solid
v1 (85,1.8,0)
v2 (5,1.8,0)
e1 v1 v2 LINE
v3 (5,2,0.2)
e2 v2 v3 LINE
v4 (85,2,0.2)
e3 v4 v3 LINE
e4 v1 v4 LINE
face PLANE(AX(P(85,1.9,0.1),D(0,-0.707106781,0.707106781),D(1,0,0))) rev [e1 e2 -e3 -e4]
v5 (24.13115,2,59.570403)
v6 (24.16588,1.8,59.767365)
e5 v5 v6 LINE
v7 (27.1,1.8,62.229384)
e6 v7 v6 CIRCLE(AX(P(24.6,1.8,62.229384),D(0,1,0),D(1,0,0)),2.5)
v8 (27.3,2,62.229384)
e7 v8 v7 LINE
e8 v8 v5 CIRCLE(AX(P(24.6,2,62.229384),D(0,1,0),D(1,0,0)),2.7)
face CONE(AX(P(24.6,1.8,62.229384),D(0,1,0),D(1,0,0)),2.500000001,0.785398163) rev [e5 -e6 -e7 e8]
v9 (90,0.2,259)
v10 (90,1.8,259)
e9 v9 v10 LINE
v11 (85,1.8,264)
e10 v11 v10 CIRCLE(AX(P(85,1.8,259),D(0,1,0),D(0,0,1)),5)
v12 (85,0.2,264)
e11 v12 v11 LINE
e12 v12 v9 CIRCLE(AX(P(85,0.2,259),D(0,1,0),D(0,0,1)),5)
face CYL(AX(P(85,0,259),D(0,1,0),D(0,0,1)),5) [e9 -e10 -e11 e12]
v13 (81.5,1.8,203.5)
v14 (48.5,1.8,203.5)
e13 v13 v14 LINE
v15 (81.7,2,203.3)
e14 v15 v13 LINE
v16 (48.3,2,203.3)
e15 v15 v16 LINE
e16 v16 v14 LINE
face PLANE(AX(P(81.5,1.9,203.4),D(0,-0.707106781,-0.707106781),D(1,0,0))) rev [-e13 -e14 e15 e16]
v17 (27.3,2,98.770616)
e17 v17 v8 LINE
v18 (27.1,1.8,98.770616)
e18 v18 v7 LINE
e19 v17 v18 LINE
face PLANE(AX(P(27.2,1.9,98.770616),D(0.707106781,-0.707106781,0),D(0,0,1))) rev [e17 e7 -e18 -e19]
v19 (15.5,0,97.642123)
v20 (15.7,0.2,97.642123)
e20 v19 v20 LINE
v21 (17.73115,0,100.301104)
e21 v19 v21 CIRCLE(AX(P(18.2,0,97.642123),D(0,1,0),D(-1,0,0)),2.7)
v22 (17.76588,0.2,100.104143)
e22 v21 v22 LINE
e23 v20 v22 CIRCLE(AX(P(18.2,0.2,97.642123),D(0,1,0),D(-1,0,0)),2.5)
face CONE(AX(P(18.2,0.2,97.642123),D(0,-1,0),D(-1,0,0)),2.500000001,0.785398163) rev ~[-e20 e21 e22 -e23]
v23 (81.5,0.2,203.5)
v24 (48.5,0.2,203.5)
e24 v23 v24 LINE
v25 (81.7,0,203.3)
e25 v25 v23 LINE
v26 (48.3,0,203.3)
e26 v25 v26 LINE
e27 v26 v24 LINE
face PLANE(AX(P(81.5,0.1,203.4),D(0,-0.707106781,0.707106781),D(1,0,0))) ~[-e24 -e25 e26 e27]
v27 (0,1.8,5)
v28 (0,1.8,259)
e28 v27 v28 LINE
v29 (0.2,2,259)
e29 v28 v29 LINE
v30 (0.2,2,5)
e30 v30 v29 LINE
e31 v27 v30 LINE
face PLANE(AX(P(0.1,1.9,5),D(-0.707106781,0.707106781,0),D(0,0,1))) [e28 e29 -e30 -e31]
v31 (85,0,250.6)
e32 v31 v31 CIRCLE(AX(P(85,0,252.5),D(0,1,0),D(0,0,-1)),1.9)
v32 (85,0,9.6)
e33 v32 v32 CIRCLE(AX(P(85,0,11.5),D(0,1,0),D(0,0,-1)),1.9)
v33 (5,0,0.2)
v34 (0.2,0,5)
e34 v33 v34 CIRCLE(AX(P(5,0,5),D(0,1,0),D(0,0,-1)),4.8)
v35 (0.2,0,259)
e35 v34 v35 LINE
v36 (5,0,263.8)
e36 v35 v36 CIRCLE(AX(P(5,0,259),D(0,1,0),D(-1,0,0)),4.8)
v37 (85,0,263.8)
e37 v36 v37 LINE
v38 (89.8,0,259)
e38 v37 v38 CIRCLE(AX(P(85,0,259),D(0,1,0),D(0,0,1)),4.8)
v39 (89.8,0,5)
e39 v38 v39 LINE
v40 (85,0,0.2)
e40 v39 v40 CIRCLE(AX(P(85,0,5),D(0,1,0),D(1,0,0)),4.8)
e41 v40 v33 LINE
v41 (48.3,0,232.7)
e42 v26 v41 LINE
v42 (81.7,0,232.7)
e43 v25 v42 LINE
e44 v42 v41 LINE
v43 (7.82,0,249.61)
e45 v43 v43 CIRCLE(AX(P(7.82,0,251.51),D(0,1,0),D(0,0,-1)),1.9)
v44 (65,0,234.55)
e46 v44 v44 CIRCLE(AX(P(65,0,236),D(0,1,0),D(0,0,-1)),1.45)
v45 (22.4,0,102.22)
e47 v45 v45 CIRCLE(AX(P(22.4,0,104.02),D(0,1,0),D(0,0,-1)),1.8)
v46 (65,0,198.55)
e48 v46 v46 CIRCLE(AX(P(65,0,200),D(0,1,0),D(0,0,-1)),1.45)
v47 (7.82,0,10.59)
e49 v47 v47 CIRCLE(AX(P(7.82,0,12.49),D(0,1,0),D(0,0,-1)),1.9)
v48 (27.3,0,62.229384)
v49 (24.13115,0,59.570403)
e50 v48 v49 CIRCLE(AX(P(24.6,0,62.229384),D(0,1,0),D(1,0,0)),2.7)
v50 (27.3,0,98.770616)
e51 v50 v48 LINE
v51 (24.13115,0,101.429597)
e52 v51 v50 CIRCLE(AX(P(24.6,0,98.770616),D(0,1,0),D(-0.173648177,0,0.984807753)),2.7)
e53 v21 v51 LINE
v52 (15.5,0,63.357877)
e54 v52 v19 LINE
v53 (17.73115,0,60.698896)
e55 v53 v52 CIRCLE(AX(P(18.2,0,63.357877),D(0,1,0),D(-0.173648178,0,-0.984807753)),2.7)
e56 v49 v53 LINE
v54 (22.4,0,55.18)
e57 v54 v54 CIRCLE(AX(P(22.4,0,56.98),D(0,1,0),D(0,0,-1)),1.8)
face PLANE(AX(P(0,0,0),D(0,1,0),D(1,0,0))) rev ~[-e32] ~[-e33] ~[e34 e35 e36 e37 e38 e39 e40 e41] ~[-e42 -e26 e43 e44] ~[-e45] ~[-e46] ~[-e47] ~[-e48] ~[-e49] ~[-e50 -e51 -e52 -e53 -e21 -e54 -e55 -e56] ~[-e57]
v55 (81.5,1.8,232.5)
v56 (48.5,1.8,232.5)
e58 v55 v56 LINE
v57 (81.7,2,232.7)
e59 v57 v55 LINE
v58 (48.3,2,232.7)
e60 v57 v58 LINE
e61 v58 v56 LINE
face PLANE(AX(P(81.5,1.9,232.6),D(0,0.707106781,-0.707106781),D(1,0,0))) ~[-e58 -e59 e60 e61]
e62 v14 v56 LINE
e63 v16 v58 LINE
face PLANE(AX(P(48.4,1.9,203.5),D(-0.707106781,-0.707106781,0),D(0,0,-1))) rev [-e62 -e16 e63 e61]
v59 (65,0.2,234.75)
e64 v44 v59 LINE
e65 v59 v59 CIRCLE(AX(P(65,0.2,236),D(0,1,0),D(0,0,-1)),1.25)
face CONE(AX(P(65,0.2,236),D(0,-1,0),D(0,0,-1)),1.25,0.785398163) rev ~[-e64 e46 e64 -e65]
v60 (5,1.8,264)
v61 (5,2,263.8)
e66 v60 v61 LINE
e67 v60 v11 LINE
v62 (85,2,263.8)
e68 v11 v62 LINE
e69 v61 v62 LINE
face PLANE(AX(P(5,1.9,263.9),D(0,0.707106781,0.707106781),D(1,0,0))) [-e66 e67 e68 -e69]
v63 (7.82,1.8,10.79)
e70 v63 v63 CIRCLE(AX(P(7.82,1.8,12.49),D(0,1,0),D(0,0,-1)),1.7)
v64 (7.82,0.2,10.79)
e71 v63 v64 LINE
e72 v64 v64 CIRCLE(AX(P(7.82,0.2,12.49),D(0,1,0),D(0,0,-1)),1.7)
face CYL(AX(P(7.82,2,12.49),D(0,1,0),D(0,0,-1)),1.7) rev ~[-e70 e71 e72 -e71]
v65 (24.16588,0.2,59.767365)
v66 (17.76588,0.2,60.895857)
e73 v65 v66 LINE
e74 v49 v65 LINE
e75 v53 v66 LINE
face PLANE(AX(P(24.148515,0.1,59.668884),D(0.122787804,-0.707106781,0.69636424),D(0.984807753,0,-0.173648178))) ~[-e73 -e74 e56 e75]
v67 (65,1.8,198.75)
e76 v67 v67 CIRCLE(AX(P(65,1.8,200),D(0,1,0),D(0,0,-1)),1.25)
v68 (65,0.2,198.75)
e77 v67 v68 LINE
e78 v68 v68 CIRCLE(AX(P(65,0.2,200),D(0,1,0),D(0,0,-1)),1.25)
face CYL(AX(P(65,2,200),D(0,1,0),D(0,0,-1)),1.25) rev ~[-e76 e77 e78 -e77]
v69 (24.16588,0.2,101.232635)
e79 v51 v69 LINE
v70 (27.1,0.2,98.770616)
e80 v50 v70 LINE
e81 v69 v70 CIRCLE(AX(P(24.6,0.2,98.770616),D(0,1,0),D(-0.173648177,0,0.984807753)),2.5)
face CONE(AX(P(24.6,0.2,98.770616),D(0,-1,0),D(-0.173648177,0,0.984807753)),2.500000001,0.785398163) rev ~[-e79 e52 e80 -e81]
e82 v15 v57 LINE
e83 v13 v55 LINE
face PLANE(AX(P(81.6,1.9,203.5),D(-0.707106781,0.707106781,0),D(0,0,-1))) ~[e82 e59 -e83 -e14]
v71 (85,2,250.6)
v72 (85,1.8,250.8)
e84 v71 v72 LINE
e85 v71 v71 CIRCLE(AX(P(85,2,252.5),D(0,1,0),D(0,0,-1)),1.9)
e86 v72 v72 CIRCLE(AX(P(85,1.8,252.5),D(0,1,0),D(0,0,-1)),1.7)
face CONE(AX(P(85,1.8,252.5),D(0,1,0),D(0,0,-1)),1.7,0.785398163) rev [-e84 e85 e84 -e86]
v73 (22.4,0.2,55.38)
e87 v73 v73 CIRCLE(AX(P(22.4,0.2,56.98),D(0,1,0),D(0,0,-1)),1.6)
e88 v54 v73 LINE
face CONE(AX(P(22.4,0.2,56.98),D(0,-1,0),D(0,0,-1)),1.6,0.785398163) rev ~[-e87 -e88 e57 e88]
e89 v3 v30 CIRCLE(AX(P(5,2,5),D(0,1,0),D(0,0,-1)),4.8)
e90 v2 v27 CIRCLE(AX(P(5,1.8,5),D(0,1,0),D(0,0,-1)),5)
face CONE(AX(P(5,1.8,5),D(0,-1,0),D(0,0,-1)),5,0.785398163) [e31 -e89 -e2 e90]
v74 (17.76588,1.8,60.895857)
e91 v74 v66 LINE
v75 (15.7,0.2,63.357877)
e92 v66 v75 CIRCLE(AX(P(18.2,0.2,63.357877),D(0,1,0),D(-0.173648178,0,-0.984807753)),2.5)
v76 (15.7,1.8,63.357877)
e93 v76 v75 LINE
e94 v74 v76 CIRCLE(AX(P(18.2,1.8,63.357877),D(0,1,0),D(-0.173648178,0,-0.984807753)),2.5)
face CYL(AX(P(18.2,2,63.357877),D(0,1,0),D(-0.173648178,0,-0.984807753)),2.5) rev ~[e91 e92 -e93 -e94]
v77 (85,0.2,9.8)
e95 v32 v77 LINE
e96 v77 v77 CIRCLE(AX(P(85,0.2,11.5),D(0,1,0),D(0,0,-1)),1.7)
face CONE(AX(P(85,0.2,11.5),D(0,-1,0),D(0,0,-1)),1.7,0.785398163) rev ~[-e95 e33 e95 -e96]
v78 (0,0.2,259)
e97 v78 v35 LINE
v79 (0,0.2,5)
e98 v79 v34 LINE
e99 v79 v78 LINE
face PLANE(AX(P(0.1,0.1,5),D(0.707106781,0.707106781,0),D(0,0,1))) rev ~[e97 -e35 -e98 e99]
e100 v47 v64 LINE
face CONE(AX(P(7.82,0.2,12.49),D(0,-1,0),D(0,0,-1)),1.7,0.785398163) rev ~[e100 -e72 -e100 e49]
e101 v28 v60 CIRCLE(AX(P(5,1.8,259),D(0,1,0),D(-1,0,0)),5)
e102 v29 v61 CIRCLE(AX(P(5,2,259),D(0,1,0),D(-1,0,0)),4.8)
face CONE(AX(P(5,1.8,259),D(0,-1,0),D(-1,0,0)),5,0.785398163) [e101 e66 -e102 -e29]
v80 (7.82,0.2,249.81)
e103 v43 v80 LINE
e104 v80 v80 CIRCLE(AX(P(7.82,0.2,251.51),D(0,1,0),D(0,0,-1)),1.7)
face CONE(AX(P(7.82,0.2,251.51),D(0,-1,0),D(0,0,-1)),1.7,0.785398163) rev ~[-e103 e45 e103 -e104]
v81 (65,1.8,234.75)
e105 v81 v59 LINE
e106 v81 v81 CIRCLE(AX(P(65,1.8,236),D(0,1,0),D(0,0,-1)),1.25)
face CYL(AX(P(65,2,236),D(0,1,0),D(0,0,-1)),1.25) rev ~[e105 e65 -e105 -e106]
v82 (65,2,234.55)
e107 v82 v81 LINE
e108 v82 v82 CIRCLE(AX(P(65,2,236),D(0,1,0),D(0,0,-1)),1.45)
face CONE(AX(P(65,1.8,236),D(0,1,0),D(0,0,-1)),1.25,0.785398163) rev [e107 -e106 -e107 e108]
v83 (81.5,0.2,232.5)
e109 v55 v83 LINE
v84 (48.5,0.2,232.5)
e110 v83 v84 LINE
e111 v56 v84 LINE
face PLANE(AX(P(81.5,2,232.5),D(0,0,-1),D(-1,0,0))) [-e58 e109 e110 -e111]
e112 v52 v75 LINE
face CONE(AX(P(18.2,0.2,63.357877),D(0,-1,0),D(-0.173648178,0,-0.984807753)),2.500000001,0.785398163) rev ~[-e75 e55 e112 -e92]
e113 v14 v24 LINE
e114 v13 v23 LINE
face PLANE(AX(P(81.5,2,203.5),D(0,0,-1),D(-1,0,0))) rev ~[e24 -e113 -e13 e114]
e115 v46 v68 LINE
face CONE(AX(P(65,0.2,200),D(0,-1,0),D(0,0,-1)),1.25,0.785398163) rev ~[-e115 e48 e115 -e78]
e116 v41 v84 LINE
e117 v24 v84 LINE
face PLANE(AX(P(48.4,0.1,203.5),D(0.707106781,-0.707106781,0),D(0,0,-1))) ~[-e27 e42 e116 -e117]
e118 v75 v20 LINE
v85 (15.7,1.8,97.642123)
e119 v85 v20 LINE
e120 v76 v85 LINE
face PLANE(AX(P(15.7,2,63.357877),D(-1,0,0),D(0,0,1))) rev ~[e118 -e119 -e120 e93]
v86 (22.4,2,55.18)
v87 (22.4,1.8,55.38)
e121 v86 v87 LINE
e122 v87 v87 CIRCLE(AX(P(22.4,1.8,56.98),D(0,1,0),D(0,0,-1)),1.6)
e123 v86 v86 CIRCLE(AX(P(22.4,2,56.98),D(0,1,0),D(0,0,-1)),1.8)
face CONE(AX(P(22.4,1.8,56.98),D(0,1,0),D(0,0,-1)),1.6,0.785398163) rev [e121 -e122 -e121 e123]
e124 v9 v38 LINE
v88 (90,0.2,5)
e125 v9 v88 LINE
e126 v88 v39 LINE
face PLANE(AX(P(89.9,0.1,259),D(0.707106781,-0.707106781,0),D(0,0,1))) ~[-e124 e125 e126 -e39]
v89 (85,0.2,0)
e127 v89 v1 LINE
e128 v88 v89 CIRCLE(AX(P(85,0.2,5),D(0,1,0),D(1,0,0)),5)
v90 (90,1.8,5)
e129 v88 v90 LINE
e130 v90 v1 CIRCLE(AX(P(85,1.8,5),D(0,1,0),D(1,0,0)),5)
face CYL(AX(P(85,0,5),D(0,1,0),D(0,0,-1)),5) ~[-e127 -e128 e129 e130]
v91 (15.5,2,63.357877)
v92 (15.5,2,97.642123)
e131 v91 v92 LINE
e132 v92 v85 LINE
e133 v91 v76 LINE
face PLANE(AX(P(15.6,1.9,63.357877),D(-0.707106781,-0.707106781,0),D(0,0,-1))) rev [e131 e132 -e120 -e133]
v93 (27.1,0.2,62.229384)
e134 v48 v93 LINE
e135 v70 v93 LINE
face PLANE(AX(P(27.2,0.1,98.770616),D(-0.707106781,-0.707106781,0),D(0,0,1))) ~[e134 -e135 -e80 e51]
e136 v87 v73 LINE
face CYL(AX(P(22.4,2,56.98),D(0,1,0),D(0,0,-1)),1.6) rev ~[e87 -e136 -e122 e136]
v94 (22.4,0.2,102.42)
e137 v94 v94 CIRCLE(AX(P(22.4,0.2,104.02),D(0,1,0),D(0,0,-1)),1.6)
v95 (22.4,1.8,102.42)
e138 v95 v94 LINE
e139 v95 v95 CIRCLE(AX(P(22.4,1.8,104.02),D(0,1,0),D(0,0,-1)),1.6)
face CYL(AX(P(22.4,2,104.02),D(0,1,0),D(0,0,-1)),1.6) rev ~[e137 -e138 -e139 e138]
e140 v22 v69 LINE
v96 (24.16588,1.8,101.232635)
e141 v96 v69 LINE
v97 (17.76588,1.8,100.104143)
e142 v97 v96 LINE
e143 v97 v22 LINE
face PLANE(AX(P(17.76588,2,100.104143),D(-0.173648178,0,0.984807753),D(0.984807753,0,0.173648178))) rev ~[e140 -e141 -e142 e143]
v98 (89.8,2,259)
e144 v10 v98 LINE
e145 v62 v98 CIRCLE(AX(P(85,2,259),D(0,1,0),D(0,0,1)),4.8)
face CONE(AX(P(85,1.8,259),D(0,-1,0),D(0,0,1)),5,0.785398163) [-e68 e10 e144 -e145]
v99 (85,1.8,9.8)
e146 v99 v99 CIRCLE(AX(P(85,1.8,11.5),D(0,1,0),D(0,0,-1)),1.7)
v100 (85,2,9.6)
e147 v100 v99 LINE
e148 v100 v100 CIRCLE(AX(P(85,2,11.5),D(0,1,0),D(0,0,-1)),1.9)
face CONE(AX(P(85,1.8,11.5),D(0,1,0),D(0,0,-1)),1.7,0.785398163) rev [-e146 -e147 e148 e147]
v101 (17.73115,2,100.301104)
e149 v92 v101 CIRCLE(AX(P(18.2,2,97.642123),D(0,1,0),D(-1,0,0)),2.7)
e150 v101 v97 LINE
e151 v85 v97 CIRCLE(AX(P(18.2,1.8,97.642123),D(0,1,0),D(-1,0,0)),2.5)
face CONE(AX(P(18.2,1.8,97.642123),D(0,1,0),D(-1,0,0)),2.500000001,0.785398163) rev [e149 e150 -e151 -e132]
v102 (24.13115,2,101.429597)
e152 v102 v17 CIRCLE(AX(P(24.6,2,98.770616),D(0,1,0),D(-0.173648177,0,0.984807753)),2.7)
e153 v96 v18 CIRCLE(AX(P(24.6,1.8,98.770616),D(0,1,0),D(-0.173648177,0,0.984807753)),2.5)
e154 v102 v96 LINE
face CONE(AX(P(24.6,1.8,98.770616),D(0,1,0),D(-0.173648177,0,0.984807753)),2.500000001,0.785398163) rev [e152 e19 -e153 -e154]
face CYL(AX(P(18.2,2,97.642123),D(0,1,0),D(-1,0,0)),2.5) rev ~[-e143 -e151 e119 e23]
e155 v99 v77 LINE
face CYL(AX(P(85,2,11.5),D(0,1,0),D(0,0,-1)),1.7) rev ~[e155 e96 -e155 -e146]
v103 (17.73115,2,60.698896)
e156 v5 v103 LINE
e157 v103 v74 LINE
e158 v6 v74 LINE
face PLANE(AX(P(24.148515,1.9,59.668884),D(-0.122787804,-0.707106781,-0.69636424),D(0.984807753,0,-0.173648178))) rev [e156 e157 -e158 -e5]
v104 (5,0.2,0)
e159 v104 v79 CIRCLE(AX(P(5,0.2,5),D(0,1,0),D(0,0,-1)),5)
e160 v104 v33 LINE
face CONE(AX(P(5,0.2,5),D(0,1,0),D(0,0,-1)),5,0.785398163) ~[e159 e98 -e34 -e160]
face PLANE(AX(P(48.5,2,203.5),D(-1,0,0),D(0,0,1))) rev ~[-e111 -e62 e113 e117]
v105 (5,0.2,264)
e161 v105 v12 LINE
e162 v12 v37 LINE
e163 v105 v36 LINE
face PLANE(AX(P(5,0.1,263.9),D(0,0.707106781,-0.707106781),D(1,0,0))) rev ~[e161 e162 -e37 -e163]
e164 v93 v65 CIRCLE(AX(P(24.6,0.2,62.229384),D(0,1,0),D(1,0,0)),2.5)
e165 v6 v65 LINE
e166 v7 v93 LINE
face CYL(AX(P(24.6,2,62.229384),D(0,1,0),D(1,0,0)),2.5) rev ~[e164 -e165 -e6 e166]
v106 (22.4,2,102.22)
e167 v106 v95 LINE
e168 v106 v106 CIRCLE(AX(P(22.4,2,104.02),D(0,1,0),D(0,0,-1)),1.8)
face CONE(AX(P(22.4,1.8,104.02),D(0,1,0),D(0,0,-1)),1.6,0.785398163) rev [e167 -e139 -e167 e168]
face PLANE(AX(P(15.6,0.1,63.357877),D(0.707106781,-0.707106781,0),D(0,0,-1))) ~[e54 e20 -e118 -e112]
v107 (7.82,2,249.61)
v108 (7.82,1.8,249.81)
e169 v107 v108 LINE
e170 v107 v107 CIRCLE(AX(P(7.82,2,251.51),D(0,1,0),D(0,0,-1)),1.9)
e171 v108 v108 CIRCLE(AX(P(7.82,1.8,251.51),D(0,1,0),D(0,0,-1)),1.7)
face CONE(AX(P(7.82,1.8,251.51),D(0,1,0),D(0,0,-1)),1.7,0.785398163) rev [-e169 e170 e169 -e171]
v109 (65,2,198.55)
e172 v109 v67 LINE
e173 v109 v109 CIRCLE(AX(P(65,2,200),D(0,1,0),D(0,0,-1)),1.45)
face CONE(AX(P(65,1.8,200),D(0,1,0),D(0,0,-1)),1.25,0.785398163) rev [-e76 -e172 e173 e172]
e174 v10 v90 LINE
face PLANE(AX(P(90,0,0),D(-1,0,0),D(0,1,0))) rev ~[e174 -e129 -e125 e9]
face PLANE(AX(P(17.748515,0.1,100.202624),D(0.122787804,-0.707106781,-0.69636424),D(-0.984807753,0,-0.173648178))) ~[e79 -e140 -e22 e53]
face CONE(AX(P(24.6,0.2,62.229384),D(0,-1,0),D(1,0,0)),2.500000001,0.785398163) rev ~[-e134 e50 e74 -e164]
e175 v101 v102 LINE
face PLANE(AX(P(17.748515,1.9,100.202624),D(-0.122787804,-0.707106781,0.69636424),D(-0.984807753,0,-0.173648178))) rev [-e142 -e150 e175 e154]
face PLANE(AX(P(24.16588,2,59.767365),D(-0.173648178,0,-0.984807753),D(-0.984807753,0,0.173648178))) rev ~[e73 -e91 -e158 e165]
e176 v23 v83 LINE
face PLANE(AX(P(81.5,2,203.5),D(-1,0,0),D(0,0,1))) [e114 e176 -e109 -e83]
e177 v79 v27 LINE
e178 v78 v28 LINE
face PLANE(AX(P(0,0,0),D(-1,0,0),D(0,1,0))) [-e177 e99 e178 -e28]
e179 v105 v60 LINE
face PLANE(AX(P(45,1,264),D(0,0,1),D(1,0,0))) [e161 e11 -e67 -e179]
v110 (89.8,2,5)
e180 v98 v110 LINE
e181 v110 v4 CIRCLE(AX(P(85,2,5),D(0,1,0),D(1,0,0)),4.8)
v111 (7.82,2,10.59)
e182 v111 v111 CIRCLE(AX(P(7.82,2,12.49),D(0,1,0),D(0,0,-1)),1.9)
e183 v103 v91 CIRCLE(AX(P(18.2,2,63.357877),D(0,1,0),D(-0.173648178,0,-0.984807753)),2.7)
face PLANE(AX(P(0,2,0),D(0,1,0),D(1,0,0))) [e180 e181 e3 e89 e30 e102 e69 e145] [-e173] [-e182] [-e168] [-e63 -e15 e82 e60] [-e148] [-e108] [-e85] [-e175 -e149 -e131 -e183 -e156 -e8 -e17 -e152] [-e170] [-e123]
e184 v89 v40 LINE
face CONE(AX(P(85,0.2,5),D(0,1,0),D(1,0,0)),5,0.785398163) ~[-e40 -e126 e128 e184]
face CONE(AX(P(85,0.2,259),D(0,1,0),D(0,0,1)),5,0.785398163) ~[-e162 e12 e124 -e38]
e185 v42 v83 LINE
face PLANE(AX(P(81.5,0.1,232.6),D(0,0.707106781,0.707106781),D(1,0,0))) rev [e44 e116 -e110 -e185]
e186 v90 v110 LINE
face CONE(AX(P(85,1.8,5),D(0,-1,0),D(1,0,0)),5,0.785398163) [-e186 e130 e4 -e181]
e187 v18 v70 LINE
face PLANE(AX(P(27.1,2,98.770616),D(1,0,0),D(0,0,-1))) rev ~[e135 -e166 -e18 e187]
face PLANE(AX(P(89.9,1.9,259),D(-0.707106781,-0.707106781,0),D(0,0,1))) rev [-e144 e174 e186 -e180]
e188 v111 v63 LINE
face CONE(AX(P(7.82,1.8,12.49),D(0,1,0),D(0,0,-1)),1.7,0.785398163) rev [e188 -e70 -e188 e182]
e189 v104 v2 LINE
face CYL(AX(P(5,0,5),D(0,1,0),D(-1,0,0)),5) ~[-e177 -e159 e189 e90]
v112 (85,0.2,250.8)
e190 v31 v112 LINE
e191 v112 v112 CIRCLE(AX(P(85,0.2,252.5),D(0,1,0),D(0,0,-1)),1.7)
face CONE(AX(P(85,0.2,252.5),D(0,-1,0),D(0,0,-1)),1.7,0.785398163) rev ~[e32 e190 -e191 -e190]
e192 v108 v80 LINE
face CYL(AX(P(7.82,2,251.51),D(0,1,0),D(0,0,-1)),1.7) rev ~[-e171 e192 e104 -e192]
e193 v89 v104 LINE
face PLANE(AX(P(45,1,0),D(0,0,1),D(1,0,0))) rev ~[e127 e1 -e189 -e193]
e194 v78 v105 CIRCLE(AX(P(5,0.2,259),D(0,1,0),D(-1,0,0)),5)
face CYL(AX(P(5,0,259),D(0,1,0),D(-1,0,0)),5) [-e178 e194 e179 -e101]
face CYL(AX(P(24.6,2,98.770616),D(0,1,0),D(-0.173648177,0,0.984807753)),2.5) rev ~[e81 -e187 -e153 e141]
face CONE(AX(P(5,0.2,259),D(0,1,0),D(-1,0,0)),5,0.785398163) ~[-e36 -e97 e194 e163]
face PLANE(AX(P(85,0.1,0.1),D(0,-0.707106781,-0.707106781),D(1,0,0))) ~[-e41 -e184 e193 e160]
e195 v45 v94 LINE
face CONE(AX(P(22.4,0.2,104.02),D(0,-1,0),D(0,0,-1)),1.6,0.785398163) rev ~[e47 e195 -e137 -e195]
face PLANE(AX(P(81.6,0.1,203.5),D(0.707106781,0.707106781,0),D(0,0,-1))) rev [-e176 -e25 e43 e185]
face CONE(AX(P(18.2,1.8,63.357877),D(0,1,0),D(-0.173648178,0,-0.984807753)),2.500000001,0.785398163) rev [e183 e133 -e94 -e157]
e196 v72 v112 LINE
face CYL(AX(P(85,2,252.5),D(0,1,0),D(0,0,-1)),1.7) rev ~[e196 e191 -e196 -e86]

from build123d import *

# Parameters (mm, degrees)
ESQUISSE1_W             = 90
ESQUISSE1_H             = 2
BASE_EXTRUSION_DEPTH    = 264
ESQUISSE2_W             = 33
ESQUISSE2_H             = 29
ENL_V_MAT_EXTRU_1_DEPTH = 279.92651362
ENL_V_MAT_EXTRU_2_DEPTH = 279.92651362
ESQUISSE4_R             = 1.6
ESQUISSE4_R_2           = 1.7
ESQUISSE4_R_3           = 1.25
ENL_V_MAT_EXTRU_3_DEPTH = 279.92651362
CONG_1_R                = 5
CHANFREIN1_SIZE         = 0.2


with BuildPart() as part:
    # Esquisse1 → Base-Extrusion (new body)
    with BuildSketch(Plane.XY):
        with Locations((45, 1)):
            Rectangle(ESQUISSE1_W, ESQUISSE1_H)
    extrude(amount=BASE_EXTRUSION_DEPTH)

    # Esquisse2 → Enlèv. mat.-Extru.1 (cut, through all)
    with BuildSketch(Plane(origin=(0, 2, 0), x_dir=(-1, 0, 0), z_dir=(0, 1, 0))):
        with Locations((-65, 218)):
            Rectangle(ESQUISSE2_W, ESQUISSE2_H)
    extrude(amount=-ENL_V_MAT_EXTRU_1_DEPTH, mode=Mode.SUBTRACT)

    # Esquisse3 → Enlèv. mat.-Extru.2 (cut, through all)
    with BuildSketch(Plane(origin=(0, 2, 0), x_dir=(-1, 0, 0), z_dir=(0, 1, 0))):
        with BuildLine():
            Line((-27.1, 98.770616019), (-27.1, 62.229383981))
            ThreePointArc((-27.1, 62.229383981), (-26.206969024, 60.314272874), (-24.165879556, 59.767364599))
            Line((-24.165879556, 59.767364599), (-17.765879556, 60.895857275))
            ThreePointArc((-17.765879556, 60.895857275), (-16.284888892, 61.750907634), (-15.7, 63.357876658))
            Line((-15.7, 63.357876658), (-15.7, 97.642123342))
            ThreePointArc((-15.7, 97.642123342), (-16.284888892, 99.249092366), (-17.765879556, 100.104142725))
            Line((-17.765879556, 100.104142725), (-24.165879556, 101.232635401))
            ThreePointArc((-24.165879556, 101.232635401), (-26.206969024, 100.685727126), (-27.1, 98.770616019))
        make_face()
    extrude(amount=-ENL_V_MAT_EXTRU_2_DEPTH, mode=Mode.SUBTRACT)

    # Esquisse4 → Enlèv. mat.-Extru.3 (cut, through all)
    with BuildSketch(Plane(origin=(0, 2, 0), x_dir=(-1, 0, 0), z_dir=(0, 1, 0))):
        with Locations(Location((-22.4, 104.02, 0), (0, 0, 270))):
            Circle(ESQUISSE4_R)
        with Locations(Location((-22.4, 56.98, 0), (0, 0, 270))):
            Circle(ESQUISSE4_R)
        with Locations(Location((-85, 252.5, 0), (0, 0, 270))):
            Circle(ESQUISSE4_R_2)
        with Locations(Location((-85, 11.5, 0), (0, 0, 270))):
            Circle(ESQUISSE4_R_2)
        with Locations(Location((-7.82, 12.49, 0), (0, 0, 270))):
            Circle(ESQUISSE4_R_2)
        with Locations(Location((-7.82, 251.51, 0), (0, 0, 270))):
            Circle(ESQUISSE4_R_2)
        with Locations(Location((-65, 236, 0), (0, 0, 270))):
            Circle(ESQUISSE4_R_3)
        with Locations(Location((-65, 200, 0), (0, 0, 270))):
            Circle(ESQUISSE4_R_3)
    extrude(amount=-ENL_V_MAT_EXTRU_3_DEPTH, mode=Mode.SUBTRACT)

    # Congé1
    cong_1_edges = [part.edges().sort_by_distance(p)[0] for p in [
        (0, 1, 0),
        (0, 1, 264),
        (90, 1, 0),
        (90, 1, 264),
    ]]
    fillet(cong_1_edges, radius=CONG_1_R)

    # Chanfrein1
    chanfrein1_edges = [part.edges().sort_by_distance(p)[0] for p in [
        (0, 0, 132),
        (1.464466094, 0, 1.464466094),
        (1.464466094, 0, 262.535533906),
        (45, 0, 0),
        (45, 0, 264),
        (88.535533906, 0, 1.464466094),
        (88.535533906, 0, 262.535533906),
        (90, 0, 132),
        (7.82, 0, 253.21),
        (65, 0, 237.25),
        (81.5, 0, 218),
        (65, 0, 203.5),
        (65, 0, 232.5),
        (48.5, 0, 218),
        (65, 0, 201.25),
        (85, 0, 254.2),
        (22.4, 0, 105.62),
        (27.1, 0, 80.5),
        (26.206969024, 0, 100.685727126),
        (26.206969024, 0, 60.314272874),
        (20.965879556, 0, 100.668389063),
        (20.965879556, 0, 60.331610937),
        (16.284888892, 0, 99.249092366),
        (16.284888892, 0, 61.750907634),
        (15.7, 0, 80.5),
        (22.4, 0, 58.58),
        (7.82, 0, 14.19),
        (85, 0, 13.2),
        (0, 2, 132),
        (1.464466094, 2, 1.464466094),
        (1.464466094, 2, 262.535533906),
        (45, 2, 0),
        (45, 2, 264),
        (88.535533906, 2, 1.464466094),
        (88.535533906, 2, 262.535533906),
        (90, 2, 132),
        (7.82, 2, 253.21),
        (65, 2, 237.25),
        (81.5, 2, 218),
        (65, 2, 203.5),
        (65, 2, 232.5),
        (48.5, 2, 218),
        (65, 2, 201.25),
        (85, 2, 254.2),
        (22.4, 2, 105.62),
        (27.1, 2, 80.5),
        (26.206969024, 2, 100.685727126),
        (26.206969024, 2, 60.314272874),
        (20.965879556, 2, 100.668389063),
        (20.965879556, 2, 60.331610937),
        (16.284888892, 2, 99.249092366),
        (16.284888892, 2, 61.750907634),
        (15.7, 2, 80.5),
        (22.4, 2, 58.58),
        (7.82, 2, 14.19),
        (85, 2, 13.2),
    ]]
    chamfer(chanfrein1_edges, length=CHANFREIN1_SIZE)


solid = part.part
